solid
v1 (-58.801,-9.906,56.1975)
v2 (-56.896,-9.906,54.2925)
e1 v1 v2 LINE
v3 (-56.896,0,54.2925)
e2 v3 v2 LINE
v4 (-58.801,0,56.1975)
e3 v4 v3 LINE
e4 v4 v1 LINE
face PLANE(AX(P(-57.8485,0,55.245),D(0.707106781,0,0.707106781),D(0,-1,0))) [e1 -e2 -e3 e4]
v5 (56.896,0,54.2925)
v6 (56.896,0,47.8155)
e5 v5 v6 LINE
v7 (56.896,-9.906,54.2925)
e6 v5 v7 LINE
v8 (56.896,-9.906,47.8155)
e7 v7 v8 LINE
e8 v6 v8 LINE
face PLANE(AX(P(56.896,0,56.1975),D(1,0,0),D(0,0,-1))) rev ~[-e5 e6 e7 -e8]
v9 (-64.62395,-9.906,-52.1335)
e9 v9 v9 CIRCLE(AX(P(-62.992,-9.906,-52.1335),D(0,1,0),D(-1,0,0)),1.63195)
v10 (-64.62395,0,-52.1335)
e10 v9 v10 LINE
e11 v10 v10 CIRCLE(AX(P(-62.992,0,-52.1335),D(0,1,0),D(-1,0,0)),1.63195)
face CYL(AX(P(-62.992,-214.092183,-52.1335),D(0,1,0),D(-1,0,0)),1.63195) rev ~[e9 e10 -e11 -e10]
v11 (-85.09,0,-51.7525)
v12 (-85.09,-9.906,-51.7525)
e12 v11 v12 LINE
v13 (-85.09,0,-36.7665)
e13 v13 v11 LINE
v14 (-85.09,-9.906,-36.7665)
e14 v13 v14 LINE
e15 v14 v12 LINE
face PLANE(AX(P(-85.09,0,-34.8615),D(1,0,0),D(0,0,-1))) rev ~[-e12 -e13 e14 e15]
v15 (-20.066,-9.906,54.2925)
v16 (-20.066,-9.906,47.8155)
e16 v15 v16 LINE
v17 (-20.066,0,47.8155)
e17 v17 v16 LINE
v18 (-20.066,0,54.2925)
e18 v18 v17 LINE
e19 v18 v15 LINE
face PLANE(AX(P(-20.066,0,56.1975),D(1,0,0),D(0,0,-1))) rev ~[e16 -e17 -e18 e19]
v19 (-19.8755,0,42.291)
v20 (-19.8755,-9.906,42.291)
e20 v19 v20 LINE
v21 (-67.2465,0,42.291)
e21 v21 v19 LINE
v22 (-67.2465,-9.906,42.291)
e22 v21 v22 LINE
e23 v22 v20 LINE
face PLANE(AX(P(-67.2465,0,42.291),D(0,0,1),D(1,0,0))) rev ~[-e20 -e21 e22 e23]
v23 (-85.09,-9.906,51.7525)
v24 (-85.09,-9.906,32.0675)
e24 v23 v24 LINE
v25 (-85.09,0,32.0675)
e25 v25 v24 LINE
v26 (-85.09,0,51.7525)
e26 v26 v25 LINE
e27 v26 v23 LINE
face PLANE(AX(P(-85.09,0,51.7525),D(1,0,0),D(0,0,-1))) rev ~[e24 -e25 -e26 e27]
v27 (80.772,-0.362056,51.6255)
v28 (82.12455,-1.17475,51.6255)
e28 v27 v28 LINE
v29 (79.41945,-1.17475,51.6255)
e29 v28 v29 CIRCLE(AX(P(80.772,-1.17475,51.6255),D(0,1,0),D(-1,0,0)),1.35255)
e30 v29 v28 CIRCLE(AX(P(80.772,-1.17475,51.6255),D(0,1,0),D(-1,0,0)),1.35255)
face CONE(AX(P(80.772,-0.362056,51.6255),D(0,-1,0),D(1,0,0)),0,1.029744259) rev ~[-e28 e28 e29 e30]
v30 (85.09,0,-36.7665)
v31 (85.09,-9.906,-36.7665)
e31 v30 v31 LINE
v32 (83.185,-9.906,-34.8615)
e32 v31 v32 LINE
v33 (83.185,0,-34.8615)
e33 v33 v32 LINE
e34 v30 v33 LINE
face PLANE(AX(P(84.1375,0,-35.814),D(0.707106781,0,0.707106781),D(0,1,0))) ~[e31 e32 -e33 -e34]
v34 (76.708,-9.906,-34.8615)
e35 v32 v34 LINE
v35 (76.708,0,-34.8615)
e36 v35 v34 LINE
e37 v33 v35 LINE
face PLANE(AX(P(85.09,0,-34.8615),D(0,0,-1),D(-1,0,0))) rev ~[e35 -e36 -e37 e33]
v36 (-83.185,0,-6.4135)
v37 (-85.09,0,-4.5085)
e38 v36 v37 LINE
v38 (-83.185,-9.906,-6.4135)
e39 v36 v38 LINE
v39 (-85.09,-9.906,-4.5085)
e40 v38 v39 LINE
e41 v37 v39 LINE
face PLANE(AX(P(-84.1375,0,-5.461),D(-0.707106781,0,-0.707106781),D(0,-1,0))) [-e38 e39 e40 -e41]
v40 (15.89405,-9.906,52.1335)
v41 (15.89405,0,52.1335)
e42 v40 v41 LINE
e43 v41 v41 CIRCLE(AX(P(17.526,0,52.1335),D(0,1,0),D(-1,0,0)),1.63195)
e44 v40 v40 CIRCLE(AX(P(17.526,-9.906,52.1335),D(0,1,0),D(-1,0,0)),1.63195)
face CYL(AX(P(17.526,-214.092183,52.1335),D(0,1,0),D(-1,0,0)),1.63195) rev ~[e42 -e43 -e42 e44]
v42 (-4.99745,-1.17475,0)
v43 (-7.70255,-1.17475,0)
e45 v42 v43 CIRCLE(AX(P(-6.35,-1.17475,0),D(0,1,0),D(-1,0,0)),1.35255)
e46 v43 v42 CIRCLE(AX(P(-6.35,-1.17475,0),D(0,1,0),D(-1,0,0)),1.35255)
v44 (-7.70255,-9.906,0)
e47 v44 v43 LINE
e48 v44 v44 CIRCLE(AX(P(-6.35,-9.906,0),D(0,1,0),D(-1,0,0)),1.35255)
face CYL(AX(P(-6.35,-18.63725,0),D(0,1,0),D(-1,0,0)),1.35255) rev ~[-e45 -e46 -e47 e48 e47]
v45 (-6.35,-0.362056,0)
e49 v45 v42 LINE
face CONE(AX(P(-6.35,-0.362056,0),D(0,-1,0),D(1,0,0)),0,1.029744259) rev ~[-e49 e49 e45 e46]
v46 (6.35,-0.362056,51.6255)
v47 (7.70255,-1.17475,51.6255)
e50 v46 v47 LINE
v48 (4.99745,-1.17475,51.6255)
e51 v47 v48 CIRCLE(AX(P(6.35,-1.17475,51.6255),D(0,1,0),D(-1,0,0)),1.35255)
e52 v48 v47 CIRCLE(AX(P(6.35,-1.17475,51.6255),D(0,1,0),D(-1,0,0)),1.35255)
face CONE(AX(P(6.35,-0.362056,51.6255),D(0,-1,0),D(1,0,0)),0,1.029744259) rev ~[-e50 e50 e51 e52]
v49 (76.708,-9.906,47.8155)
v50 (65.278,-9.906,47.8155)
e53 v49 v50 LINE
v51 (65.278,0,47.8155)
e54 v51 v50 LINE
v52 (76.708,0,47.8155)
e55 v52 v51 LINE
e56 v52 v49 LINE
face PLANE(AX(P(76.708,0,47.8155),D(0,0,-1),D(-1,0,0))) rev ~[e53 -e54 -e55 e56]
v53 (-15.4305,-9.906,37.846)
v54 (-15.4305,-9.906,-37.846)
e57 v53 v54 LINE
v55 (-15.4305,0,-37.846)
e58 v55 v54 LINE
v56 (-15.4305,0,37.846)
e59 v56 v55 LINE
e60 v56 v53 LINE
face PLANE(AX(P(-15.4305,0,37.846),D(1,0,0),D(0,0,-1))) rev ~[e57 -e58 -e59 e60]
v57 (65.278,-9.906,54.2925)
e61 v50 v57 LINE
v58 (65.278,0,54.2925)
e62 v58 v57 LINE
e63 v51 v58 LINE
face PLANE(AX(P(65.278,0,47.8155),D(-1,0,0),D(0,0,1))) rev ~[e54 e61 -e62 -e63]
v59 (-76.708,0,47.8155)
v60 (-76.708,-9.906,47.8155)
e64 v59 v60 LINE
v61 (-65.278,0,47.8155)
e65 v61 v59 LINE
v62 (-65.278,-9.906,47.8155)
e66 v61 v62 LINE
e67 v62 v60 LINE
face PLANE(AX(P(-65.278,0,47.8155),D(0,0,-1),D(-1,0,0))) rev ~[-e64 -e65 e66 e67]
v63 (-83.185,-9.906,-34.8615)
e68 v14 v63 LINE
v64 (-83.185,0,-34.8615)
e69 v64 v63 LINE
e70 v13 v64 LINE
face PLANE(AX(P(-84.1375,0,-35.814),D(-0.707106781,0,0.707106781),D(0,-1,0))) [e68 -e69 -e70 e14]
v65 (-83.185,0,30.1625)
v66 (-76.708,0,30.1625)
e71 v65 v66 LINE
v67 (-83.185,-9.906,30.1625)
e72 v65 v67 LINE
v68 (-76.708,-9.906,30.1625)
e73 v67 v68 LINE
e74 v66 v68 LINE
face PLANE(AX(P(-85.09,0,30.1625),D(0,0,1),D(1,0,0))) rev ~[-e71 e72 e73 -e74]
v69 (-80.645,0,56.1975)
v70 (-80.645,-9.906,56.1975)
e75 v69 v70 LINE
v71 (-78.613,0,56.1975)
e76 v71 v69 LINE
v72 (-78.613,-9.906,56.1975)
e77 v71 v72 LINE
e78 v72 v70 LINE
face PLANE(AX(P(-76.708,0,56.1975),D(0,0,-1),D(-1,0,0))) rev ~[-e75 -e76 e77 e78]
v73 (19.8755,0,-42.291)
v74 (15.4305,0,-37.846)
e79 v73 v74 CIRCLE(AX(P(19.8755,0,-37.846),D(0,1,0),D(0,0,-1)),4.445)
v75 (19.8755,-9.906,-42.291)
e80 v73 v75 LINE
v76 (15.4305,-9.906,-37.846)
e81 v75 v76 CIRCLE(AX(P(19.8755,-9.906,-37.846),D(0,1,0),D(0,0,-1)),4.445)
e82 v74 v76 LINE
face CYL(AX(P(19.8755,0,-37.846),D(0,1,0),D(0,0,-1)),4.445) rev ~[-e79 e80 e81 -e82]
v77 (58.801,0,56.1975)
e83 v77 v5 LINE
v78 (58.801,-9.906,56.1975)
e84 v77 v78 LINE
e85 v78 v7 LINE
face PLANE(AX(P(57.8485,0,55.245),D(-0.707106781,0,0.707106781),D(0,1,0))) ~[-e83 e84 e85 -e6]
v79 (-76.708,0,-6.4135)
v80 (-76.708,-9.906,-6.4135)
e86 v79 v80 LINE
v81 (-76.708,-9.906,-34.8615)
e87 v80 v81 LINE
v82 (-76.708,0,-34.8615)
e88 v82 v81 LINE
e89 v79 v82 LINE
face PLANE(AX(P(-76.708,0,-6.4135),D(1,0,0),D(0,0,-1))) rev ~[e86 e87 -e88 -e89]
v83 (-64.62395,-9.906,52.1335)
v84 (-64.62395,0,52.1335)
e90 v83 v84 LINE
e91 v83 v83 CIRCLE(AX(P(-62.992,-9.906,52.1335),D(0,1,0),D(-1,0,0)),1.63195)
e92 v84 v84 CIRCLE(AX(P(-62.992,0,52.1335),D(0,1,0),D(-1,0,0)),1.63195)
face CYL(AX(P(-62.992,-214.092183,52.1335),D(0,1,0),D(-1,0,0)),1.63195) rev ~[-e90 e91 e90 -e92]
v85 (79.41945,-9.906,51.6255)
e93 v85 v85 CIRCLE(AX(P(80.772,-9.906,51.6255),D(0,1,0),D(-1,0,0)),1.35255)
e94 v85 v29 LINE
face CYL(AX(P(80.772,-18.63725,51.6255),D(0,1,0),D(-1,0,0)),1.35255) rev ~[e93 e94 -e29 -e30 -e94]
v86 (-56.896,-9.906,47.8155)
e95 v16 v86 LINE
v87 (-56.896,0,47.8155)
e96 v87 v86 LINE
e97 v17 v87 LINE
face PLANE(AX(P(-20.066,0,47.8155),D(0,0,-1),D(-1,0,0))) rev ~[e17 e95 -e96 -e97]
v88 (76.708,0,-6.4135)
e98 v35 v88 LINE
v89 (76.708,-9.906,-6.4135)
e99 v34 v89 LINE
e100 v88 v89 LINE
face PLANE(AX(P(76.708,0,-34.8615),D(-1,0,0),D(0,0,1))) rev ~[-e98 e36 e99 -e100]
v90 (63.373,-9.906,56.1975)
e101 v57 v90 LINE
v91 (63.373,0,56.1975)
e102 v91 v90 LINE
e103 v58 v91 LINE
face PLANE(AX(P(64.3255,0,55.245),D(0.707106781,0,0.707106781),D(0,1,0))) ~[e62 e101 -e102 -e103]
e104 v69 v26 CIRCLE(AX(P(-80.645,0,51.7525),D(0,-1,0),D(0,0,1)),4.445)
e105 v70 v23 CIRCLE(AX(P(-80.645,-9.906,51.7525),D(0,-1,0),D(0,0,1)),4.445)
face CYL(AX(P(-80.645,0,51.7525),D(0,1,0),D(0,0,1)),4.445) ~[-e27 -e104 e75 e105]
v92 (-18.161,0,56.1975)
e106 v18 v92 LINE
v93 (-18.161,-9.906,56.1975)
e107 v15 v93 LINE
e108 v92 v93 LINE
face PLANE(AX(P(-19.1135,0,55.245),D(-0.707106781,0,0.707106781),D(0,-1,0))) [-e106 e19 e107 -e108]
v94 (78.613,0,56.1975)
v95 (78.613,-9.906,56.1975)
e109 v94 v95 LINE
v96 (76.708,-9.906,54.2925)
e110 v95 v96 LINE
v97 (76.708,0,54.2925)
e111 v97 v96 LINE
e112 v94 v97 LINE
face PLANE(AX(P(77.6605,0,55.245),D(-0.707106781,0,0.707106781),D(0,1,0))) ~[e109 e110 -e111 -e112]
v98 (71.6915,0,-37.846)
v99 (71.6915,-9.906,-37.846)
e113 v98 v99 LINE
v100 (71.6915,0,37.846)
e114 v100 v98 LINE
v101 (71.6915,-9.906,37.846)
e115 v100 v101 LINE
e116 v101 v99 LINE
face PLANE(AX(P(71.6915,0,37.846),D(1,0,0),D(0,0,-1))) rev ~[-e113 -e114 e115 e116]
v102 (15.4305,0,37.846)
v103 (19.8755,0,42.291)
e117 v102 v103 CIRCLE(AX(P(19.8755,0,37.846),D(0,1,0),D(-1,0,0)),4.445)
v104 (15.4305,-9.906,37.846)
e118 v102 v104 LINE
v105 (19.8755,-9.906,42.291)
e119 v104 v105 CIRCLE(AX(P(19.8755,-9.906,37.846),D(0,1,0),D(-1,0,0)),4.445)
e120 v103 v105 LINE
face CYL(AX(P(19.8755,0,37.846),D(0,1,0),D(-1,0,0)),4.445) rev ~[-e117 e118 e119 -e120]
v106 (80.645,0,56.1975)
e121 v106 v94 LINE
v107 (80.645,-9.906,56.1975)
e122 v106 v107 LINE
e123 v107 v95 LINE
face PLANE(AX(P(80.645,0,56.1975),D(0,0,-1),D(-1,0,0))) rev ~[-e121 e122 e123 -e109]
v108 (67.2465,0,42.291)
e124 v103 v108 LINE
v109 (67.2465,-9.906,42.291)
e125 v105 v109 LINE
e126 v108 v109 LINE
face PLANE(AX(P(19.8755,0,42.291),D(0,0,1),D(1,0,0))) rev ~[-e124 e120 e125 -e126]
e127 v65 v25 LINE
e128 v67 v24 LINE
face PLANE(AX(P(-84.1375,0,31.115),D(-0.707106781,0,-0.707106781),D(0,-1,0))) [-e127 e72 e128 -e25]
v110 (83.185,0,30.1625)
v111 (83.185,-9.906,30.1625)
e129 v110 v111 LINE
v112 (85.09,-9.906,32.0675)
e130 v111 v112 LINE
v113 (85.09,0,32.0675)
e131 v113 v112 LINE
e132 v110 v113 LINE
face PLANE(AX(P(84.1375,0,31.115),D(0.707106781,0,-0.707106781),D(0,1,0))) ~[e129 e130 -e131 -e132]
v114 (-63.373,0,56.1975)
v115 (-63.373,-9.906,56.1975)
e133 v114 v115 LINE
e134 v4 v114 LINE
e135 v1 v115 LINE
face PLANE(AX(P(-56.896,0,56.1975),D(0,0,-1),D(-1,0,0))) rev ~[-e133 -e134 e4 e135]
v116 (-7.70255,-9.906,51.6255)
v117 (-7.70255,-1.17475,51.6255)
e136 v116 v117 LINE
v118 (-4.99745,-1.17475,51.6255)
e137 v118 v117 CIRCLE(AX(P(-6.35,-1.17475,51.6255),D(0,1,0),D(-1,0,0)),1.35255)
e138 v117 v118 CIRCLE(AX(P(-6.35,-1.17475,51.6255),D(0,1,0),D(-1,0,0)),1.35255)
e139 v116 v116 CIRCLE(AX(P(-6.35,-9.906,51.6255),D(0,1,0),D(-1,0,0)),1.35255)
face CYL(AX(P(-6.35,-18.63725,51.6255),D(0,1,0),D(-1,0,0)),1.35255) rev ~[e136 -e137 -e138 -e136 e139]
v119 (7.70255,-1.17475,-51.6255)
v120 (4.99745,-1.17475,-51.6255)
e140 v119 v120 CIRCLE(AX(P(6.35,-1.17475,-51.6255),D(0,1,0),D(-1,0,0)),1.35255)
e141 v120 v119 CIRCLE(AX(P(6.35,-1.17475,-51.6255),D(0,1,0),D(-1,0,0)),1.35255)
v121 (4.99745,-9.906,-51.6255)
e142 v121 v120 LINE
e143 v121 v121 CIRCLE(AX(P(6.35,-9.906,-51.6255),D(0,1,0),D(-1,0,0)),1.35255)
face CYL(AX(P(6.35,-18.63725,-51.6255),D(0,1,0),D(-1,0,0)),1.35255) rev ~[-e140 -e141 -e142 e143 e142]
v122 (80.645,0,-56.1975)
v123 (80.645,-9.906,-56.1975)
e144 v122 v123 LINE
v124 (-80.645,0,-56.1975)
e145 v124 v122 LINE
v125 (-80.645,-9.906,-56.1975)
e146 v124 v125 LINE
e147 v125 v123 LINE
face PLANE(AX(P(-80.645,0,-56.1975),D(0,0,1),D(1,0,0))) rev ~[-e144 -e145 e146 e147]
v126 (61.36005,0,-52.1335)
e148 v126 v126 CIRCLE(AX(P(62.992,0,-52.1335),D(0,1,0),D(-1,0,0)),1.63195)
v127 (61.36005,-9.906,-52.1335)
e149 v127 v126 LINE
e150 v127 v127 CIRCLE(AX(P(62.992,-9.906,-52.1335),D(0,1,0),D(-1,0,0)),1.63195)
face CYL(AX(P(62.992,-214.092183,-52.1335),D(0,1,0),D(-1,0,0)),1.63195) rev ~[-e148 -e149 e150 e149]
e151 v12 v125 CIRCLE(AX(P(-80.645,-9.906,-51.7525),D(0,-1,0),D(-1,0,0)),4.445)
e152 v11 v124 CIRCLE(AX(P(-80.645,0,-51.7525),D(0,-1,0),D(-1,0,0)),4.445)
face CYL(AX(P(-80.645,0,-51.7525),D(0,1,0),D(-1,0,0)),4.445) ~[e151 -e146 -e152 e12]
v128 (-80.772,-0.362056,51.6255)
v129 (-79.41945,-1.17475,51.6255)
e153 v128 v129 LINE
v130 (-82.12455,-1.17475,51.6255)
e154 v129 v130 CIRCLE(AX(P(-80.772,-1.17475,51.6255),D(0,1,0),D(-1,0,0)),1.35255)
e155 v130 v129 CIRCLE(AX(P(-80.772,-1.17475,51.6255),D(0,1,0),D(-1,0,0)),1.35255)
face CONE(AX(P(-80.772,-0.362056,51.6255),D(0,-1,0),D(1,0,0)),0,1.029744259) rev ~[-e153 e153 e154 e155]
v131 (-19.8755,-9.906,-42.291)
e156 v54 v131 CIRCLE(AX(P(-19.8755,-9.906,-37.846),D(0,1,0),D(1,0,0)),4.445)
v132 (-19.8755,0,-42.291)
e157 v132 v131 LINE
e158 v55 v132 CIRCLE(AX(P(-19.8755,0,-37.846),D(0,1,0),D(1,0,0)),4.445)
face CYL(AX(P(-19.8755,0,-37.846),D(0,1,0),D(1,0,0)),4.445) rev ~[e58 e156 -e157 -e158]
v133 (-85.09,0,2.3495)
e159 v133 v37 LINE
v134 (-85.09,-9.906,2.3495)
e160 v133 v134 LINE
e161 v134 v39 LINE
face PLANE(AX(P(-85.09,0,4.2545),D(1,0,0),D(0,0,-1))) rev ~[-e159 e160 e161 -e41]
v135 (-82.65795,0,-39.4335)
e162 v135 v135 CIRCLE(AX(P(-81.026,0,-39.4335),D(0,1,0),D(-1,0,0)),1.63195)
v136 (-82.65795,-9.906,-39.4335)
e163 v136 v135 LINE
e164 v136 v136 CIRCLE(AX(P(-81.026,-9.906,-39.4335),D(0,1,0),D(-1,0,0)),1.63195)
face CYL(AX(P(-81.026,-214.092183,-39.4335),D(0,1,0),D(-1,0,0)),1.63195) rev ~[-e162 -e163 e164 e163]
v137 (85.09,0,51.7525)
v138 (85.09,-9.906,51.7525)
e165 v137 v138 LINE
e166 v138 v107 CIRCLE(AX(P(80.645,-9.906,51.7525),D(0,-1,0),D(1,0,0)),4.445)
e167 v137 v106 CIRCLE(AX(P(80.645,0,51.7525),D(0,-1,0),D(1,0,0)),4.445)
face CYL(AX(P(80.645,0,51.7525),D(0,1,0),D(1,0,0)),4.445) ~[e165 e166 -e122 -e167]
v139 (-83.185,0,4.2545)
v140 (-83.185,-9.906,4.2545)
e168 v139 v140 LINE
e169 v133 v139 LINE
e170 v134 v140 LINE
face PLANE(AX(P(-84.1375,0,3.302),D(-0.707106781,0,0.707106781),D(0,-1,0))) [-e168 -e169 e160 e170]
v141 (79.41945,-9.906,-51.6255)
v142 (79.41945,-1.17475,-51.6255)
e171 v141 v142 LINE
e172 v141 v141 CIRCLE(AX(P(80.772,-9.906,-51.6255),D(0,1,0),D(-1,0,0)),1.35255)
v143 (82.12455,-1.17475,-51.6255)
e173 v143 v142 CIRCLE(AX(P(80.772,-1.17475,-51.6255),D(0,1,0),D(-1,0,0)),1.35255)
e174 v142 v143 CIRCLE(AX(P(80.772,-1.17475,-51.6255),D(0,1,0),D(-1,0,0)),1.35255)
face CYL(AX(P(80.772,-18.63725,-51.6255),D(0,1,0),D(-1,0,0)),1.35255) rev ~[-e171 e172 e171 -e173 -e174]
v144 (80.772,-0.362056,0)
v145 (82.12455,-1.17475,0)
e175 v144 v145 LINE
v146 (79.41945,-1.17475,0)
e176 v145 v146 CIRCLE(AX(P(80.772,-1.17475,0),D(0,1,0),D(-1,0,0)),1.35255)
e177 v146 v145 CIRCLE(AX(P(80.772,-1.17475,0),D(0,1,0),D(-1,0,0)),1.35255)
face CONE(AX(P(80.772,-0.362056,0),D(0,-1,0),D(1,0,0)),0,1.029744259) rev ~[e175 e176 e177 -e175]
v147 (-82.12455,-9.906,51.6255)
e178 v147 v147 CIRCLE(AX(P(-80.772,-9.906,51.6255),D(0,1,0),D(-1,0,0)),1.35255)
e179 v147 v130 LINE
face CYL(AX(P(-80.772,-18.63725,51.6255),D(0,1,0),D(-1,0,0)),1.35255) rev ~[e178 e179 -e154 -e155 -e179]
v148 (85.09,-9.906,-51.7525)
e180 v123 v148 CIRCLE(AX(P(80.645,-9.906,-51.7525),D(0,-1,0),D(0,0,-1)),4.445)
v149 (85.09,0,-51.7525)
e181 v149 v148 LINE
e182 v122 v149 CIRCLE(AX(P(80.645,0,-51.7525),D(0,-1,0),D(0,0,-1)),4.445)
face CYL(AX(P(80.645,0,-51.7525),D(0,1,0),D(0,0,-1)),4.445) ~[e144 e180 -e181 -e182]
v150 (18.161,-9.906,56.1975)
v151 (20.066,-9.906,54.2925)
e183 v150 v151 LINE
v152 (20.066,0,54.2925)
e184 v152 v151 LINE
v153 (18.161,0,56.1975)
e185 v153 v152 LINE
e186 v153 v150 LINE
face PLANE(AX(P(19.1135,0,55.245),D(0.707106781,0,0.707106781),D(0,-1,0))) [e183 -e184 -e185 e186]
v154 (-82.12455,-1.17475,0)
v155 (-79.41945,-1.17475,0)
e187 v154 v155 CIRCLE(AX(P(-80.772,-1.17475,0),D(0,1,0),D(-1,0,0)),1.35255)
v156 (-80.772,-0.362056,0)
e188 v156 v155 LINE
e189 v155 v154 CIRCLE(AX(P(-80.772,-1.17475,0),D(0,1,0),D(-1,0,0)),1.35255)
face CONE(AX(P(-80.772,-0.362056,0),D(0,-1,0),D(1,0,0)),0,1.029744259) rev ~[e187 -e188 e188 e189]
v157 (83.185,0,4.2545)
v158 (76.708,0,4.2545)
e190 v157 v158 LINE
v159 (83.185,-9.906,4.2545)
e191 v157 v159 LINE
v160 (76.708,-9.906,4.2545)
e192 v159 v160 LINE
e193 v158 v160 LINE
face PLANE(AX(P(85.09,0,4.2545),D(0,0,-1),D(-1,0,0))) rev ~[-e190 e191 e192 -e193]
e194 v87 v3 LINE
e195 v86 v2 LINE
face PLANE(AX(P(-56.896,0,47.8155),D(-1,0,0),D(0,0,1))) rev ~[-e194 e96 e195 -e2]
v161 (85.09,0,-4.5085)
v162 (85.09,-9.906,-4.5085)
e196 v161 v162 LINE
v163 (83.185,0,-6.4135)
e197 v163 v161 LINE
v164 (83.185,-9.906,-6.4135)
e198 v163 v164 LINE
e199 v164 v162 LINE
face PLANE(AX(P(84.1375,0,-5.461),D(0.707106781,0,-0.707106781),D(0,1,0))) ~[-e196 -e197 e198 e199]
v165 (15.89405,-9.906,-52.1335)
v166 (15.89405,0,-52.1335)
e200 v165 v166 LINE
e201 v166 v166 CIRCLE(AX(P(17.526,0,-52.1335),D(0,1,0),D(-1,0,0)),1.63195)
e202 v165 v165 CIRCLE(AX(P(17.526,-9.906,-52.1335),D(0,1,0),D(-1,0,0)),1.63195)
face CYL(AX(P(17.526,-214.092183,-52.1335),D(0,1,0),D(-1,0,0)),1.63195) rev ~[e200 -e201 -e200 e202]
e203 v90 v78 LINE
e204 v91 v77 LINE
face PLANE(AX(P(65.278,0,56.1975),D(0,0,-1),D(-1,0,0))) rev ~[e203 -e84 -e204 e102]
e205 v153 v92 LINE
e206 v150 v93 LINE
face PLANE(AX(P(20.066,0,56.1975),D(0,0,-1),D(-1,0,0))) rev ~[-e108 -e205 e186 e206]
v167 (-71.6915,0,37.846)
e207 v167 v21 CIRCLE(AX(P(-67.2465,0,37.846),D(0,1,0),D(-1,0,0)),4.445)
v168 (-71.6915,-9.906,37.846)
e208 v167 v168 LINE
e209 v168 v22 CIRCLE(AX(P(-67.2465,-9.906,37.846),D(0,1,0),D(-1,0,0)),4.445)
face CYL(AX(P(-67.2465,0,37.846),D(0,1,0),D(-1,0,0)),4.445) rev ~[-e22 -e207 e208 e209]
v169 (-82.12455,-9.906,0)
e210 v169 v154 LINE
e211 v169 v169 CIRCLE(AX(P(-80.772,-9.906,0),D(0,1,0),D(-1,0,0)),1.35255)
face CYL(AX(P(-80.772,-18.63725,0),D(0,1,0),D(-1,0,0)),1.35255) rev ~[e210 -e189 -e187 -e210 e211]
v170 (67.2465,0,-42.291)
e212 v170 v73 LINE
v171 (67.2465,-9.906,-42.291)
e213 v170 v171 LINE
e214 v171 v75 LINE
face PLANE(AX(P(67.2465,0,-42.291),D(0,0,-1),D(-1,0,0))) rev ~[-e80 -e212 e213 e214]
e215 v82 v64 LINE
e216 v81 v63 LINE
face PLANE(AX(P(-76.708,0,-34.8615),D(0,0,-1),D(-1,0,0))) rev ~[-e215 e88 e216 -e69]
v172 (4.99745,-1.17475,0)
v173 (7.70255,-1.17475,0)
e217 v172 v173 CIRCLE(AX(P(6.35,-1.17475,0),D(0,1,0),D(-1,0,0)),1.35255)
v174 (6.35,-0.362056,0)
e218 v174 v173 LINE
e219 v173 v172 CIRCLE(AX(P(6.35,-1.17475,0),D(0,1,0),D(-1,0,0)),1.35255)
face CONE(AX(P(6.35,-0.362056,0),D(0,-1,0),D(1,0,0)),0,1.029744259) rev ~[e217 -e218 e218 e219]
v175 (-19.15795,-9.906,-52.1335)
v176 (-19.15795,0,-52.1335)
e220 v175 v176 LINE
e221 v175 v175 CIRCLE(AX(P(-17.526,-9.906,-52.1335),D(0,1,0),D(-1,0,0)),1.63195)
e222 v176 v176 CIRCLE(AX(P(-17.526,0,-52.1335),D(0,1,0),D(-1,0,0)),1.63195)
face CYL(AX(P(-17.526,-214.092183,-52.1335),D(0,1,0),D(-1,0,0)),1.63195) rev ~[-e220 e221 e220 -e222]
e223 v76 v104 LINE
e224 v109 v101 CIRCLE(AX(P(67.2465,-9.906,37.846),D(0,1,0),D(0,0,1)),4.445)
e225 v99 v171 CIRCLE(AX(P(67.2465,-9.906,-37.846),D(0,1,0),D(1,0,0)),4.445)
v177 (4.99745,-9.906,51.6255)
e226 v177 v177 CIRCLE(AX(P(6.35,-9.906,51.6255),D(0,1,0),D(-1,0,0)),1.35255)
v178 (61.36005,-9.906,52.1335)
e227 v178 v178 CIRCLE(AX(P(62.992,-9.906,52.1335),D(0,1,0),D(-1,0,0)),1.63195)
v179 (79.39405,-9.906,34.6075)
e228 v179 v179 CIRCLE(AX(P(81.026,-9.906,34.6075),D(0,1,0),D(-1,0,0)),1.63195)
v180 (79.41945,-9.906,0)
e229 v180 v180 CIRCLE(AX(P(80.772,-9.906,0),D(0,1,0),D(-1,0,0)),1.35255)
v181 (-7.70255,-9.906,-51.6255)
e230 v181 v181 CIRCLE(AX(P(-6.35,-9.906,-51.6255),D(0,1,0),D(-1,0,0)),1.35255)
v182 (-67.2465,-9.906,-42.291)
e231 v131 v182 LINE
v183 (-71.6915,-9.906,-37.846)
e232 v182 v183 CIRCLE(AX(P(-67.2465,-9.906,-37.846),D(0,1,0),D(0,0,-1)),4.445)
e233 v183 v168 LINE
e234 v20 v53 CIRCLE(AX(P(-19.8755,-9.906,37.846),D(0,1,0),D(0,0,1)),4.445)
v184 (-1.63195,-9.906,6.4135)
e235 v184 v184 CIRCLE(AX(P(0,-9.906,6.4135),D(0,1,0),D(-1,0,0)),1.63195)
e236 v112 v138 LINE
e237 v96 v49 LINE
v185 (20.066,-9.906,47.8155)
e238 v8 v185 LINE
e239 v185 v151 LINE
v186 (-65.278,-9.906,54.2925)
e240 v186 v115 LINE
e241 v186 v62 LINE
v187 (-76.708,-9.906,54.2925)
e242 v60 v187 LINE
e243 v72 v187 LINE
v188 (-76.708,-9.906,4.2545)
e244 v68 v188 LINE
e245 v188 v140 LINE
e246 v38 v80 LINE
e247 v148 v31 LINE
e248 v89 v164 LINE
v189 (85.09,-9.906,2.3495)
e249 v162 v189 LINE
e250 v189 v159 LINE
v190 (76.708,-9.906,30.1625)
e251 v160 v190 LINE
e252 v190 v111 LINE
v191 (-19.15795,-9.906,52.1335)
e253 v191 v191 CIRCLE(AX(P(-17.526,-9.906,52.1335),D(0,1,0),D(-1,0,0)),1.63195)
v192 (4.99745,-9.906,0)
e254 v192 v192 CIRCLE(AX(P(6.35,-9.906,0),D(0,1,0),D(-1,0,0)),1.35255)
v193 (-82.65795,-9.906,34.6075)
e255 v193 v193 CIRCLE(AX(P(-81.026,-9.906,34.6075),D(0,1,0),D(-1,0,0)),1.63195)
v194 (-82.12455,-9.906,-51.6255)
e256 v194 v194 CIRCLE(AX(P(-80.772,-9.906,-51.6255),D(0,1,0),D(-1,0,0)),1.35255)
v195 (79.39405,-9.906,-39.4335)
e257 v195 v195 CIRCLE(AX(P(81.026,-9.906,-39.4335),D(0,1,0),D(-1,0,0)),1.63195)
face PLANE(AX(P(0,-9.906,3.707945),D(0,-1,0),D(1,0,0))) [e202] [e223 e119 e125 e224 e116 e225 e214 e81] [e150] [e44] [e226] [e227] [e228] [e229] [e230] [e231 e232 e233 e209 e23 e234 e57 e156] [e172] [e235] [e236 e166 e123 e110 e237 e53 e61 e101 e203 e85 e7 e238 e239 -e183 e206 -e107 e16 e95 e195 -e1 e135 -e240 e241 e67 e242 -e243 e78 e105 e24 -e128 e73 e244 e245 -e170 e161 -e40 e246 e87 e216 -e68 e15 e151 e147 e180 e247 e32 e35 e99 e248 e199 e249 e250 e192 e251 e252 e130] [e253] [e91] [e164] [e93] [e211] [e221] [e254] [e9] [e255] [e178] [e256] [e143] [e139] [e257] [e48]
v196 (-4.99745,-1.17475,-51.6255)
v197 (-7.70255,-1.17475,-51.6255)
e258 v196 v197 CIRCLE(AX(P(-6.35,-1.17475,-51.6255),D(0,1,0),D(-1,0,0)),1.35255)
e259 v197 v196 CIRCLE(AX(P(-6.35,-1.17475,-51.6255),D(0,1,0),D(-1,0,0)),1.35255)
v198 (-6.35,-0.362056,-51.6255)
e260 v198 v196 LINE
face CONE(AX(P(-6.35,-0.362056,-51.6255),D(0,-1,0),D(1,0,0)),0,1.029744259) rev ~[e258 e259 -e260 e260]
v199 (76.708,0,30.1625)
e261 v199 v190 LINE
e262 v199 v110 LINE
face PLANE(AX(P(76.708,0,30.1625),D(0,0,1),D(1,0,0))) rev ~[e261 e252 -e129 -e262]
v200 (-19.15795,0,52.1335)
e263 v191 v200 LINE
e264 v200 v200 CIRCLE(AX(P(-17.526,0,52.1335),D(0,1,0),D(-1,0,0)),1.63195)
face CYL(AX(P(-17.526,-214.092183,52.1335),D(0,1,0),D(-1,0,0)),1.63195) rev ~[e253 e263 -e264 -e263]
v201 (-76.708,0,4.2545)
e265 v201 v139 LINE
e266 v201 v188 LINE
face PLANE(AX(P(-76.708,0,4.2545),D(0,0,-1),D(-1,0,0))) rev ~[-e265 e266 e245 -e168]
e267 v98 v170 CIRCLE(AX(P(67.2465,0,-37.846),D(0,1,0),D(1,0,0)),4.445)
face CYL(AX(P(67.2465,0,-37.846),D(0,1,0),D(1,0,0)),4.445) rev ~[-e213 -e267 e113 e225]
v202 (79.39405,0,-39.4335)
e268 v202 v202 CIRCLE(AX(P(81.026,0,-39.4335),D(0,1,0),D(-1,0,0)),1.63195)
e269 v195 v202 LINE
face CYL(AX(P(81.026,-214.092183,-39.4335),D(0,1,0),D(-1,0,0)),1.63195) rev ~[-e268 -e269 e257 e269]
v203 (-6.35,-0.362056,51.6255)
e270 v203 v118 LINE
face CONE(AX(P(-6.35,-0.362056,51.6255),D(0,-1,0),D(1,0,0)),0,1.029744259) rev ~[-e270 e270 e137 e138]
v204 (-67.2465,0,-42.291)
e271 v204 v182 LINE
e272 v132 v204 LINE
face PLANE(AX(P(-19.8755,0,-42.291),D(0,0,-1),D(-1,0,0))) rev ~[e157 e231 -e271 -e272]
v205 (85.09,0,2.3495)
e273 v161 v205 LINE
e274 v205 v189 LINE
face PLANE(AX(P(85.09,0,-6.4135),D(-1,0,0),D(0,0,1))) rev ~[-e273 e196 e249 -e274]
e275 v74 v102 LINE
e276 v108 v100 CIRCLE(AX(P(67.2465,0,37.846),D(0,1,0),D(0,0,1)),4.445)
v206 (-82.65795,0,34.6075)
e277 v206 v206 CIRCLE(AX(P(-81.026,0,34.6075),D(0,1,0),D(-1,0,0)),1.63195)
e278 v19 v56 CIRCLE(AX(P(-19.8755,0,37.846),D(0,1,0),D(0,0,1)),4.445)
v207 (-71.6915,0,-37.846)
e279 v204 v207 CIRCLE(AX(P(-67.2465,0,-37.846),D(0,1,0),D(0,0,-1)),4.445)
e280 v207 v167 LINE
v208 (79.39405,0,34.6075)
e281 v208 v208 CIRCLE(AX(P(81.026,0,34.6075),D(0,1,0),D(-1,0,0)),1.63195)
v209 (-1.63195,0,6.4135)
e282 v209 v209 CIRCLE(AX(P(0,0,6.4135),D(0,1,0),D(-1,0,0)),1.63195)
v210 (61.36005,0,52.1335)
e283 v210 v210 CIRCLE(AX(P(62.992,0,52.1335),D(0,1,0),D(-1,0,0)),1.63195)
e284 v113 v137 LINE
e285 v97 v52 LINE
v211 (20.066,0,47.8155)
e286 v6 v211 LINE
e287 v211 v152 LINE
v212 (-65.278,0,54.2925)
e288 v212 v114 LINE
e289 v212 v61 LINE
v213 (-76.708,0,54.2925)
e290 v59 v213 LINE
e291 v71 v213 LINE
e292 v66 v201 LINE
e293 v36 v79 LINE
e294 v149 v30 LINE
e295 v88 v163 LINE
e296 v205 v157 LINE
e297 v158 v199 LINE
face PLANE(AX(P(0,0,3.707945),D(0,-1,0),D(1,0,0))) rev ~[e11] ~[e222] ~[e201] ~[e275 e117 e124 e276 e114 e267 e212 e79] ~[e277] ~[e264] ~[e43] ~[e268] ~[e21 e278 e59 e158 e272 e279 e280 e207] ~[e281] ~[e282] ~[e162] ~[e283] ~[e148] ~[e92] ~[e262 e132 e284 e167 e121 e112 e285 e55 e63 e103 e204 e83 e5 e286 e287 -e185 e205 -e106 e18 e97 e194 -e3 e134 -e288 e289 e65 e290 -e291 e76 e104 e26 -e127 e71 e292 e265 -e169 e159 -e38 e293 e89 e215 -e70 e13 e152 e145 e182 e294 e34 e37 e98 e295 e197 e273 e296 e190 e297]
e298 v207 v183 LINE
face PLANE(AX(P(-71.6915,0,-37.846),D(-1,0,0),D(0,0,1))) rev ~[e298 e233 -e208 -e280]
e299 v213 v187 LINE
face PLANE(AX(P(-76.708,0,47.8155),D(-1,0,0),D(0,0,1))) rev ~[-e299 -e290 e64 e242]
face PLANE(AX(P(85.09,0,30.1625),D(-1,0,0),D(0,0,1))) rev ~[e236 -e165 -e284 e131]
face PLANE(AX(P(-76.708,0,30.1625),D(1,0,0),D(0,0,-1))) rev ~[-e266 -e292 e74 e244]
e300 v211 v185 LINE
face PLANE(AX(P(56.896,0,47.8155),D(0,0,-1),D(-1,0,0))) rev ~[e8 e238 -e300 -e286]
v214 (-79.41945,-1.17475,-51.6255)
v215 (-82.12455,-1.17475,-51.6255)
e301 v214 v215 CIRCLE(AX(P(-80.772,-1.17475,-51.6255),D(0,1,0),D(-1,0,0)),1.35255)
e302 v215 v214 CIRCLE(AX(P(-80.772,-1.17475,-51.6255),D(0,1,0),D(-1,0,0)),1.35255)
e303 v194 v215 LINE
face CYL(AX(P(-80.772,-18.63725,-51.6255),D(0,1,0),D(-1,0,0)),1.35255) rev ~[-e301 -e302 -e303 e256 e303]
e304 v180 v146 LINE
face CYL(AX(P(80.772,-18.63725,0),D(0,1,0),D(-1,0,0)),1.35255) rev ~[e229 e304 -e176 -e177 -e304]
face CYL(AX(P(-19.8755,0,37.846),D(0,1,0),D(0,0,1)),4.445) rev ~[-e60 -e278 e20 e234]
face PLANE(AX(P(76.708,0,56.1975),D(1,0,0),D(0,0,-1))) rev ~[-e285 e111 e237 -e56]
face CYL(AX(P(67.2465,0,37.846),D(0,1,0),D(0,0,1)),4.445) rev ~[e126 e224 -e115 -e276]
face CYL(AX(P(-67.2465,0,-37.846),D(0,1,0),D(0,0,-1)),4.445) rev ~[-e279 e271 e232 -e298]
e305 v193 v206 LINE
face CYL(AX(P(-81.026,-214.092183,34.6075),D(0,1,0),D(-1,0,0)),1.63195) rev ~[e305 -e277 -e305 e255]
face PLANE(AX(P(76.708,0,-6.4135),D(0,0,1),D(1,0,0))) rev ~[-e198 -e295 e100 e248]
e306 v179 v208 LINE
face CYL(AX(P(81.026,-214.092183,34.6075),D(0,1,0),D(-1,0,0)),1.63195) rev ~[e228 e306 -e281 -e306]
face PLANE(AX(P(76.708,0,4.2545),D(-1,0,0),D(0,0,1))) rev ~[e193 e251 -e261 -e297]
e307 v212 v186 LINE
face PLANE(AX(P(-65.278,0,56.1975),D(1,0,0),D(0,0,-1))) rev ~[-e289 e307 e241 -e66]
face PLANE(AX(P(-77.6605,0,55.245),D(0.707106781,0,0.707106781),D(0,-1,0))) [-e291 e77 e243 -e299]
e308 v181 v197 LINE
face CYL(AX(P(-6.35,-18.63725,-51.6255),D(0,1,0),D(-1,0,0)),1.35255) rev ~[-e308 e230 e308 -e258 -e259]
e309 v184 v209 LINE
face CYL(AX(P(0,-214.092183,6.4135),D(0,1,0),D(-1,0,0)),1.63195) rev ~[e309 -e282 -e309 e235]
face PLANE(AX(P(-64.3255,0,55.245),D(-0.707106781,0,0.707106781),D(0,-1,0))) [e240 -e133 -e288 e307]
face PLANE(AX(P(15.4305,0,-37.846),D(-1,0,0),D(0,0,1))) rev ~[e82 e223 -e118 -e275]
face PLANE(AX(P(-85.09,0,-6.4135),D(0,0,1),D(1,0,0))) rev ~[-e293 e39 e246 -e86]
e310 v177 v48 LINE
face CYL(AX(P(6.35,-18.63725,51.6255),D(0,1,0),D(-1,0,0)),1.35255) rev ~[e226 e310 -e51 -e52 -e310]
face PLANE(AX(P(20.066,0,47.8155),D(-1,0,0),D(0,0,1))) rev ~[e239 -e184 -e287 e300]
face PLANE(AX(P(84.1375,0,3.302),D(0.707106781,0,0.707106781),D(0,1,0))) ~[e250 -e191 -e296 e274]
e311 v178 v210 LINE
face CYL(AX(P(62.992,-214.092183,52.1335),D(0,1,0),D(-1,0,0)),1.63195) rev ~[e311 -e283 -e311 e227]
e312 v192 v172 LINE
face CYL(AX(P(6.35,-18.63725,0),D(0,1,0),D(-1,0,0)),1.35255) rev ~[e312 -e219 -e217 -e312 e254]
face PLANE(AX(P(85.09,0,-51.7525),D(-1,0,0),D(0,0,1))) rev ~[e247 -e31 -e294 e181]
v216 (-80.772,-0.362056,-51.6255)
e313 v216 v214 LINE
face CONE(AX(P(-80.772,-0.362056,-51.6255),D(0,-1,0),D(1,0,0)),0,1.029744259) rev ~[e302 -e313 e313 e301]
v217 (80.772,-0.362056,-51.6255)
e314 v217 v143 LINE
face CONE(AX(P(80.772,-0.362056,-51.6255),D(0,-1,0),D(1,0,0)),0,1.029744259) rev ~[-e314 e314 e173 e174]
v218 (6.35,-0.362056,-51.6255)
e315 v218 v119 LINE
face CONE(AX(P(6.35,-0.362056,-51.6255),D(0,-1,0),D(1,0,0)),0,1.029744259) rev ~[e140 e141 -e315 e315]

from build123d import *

# Parameters (mm, degrees)
F1_DEPTH = 9.906
F2_SIZE  = 1.905
F4_D     = 2.7051
F4_DEPTH = 8.73125
F4_TIP   = 0.8126940303
F6_D     = 3.2639


with BuildPart() as f1:
    # F0 (on Front) → F1 (new body)
    with BuildSketch(Plane.XZ):
        with BuildLine():
            ThreePointArc((-85.09, -51.7525), (-83.7880896424, -54.8955896424), (-80.645, -56.1975))
            Line((-80.645, -56.1975), (80.645, -56.1975))
            ThreePointArc((80.645, -56.1975), (83.7880896424, -54.8955896424), (85.09, -51.7525))
            Line((85.09, -51.7525), (85.09, -34.8615))
            Line((85.09, -34.8615), (76.708, -34.8615))
            Line((76.708, -34.8615), (76.708, -6.4135))
            Line((76.708, -6.4135), (85.09, -6.4135))
            Line((85.09, -6.4135), (85.09, 4.2545))
            Line((85.09, 4.2545), (76.708, 4.2545))
            Line((76.708, 4.2545), (76.708, 30.1625))
            Line((76.708, 30.1625), (85.09, 30.1625))
            Line((85.09, 30.1625), (85.09, 51.7525))
            ThreePointArc((85.09, 51.7525), (83.7880896424, 54.8955896424), (80.645, 56.1975))
            Line((80.645, 56.1975), (76.708, 56.1975))
            Line((76.708, 56.1975), (76.708, 47.8155))
            Line((76.708, 47.8155), (65.278, 47.8155))
            Line((65.278, 47.8155), (65.278, 56.1975))
            Line((65.278, 56.1975), (56.896, 56.1975))
            Line((56.896, 56.1975), (56.896, 47.8155))
            Line((56.896, 47.8155), (20.066, 47.8155))
            Line((20.066, 47.8155), (20.066, 56.1975))
            Line((20.066, 56.1975), (-20.066, 56.1975))
            Line((-20.066, 56.1975), (-20.066, 47.8155))
            Line((-20.066, 47.8155), (-56.896, 47.8155))
            Line((-56.896, 47.8155), (-56.896, 56.1975))
            Line((-56.896, 56.1975), (-65.278, 56.1975))
            Line((-65.278, 56.1975), (-65.278, 47.8155))
            Line((-65.278, 47.8155), (-76.708, 47.8155))
            Line((-76.708, 47.8155), (-76.708, 56.1975))
            Line((-76.708, 56.1975), (-80.645, 56.1975))
            ThreePointArc((-80.645, 56.1975), (-83.7880896424, 54.8955896424), (-85.09, 51.7525))
            Line((-85.09, 51.7525), (-85.09, 30.1625))
            Line((-85.09, 30.1625), (-76.708, 30.1625))
            Line((-76.708, 30.1625), (-76.708, 4.2545))
            Line((-76.708, 4.2545), (-85.09, 4.2545))
            Line((-85.09, 4.2545), (-85.09, -6.4135))
            Line((-85.09, -6.4135), (-76.708, -6.4135))
            Line((-76.708, -6.4135), (-76.708, -34.8615))
            Line((-76.708, -34.8615), (-85.09, -34.8615))
            Line((-85.09, -34.8615), (-85.09, -51.7525))
        make_face()
        with BuildLine():
            ThreePointArc((-15.4305, -37.846), (-16.7324103576, -40.9890896424), (-19.8755, -42.291))
            Line((-19.8755, -42.291), (-67.2465, -42.291))
            ThreePointArc((-67.2465, -42.291), (-70.3895896424, -40.9890896424), (-71.6915, -37.846))
            Line((-71.6915, -37.846), (-71.6915, 37.846))
            ThreePointArc((-71.6915, 37.846), (-70.3895896424, 40.9890896424), (-67.2465, 42.291))
            Line((-67.2465, 42.291), (-19.8755, 42.291))
            ThreePointArc((-19.8755, 42.291), (-16.7324103576, 40.9890896424), (-15.4305, 37.846))
            Line((-15.4305, 37.846), (-15.4305, -37.846))
        make_face(mode=Mode.SUBTRACT)
        with BuildLine():
            Line((71.6915, 37.846), (71.6915, -37.846))
            ThreePointArc((71.6915, -37.846), (70.3895896424, -40.9890896424), (67.2465, -42.291))
            Line((67.2465, -42.291), (19.8755, -42.291))
            ThreePointArc((19.8755, -42.291), (16.7324103576, -40.9890896424), (15.4305, -37.846))
            Line((15.4305, -37.846), (15.4305, 37.846))
            ThreePointArc((15.4305, 37.846), (16.7324103576, 40.9890896424), (19.8755, 42.291))
            Line((19.8755, 42.291), (67.2465, 42.291))
            ThreePointArc((67.2465, 42.291), (70.3895896424, 40.9890896424), (71.6915, 37.846))
        make_face(mode=Mode.SUBTRACT)
    extrude(amount=F1_DEPTH)

    # F2
    f2_edges = [f1.edges().sort_by_distance(p)[0] for p in [
        (-85.09, -4.953, -34.8615),
        (-85.09, -4.953, -6.4135),
        (-85.09, -4.953, 4.2545),
        (-85.09, -4.953, 30.1625),
        (-76.708, -4.953, 56.1975),
        (-65.278, -4.953, 56.1975),
        (-56.896, -4.953, 56.1975),
        (-20.066, -4.953, 56.1975),
        (20.066, -4.953, 56.1975),
        (65.278, -4.953, 56.1975),
        (56.896, -4.953, 56.1975),
        (76.708, -4.953, 56.1975),
        (85.09, -4.953, 30.1625),
        (85.09, -4.953, 4.2545),
        (85.09, -4.953, -6.4135),
        (85.09, -4.953, -34.8615),
    ]]
    chamfer(f2_edges, length=F2_SIZE)

    # F4
    with Locations(Plane.XZ.offset(9.906)):
        with Locations((-80.772, 51.6255), (-80.772, 0), (-80.772, -51.6255), (-6.35, -51.6255), (-6.35, 0), (-6.35, 51.6255), (6.35, 51.6255), (6.35, 0), (6.35, -51.6255), (80.772, -51.6255), (80.772, 0), (80.772, 51.6255)):
            Hole(F4_D / 2, depth=F4_DEPTH)
            with Locations((0, 0, -(F4_DEPTH + F4_TIP / 2))):  # 118° drill point
                Cone(0, F4_D / 2, F4_TIP, mode=Mode.SUBTRACT)

    # F6 (through all)
    with Locations(Plane.XZ.offset(9.906)):
        with Locations((-81.026, 34.6075), (-62.992, 52.1335), (-81.026, -39.4335), (-62.992, -52.1335), (-17.526, 52.1335), (-17.526, -52.1335), (0, 6.4135), (17.526, -52.1335), (62.992, -52.1335), (81.026, -39.4335), (81.026, 34.6075), (62.992, 52.1335), (17.526, 52.1335)):
            Hole(F6_D / 2)


solid = f1.part
